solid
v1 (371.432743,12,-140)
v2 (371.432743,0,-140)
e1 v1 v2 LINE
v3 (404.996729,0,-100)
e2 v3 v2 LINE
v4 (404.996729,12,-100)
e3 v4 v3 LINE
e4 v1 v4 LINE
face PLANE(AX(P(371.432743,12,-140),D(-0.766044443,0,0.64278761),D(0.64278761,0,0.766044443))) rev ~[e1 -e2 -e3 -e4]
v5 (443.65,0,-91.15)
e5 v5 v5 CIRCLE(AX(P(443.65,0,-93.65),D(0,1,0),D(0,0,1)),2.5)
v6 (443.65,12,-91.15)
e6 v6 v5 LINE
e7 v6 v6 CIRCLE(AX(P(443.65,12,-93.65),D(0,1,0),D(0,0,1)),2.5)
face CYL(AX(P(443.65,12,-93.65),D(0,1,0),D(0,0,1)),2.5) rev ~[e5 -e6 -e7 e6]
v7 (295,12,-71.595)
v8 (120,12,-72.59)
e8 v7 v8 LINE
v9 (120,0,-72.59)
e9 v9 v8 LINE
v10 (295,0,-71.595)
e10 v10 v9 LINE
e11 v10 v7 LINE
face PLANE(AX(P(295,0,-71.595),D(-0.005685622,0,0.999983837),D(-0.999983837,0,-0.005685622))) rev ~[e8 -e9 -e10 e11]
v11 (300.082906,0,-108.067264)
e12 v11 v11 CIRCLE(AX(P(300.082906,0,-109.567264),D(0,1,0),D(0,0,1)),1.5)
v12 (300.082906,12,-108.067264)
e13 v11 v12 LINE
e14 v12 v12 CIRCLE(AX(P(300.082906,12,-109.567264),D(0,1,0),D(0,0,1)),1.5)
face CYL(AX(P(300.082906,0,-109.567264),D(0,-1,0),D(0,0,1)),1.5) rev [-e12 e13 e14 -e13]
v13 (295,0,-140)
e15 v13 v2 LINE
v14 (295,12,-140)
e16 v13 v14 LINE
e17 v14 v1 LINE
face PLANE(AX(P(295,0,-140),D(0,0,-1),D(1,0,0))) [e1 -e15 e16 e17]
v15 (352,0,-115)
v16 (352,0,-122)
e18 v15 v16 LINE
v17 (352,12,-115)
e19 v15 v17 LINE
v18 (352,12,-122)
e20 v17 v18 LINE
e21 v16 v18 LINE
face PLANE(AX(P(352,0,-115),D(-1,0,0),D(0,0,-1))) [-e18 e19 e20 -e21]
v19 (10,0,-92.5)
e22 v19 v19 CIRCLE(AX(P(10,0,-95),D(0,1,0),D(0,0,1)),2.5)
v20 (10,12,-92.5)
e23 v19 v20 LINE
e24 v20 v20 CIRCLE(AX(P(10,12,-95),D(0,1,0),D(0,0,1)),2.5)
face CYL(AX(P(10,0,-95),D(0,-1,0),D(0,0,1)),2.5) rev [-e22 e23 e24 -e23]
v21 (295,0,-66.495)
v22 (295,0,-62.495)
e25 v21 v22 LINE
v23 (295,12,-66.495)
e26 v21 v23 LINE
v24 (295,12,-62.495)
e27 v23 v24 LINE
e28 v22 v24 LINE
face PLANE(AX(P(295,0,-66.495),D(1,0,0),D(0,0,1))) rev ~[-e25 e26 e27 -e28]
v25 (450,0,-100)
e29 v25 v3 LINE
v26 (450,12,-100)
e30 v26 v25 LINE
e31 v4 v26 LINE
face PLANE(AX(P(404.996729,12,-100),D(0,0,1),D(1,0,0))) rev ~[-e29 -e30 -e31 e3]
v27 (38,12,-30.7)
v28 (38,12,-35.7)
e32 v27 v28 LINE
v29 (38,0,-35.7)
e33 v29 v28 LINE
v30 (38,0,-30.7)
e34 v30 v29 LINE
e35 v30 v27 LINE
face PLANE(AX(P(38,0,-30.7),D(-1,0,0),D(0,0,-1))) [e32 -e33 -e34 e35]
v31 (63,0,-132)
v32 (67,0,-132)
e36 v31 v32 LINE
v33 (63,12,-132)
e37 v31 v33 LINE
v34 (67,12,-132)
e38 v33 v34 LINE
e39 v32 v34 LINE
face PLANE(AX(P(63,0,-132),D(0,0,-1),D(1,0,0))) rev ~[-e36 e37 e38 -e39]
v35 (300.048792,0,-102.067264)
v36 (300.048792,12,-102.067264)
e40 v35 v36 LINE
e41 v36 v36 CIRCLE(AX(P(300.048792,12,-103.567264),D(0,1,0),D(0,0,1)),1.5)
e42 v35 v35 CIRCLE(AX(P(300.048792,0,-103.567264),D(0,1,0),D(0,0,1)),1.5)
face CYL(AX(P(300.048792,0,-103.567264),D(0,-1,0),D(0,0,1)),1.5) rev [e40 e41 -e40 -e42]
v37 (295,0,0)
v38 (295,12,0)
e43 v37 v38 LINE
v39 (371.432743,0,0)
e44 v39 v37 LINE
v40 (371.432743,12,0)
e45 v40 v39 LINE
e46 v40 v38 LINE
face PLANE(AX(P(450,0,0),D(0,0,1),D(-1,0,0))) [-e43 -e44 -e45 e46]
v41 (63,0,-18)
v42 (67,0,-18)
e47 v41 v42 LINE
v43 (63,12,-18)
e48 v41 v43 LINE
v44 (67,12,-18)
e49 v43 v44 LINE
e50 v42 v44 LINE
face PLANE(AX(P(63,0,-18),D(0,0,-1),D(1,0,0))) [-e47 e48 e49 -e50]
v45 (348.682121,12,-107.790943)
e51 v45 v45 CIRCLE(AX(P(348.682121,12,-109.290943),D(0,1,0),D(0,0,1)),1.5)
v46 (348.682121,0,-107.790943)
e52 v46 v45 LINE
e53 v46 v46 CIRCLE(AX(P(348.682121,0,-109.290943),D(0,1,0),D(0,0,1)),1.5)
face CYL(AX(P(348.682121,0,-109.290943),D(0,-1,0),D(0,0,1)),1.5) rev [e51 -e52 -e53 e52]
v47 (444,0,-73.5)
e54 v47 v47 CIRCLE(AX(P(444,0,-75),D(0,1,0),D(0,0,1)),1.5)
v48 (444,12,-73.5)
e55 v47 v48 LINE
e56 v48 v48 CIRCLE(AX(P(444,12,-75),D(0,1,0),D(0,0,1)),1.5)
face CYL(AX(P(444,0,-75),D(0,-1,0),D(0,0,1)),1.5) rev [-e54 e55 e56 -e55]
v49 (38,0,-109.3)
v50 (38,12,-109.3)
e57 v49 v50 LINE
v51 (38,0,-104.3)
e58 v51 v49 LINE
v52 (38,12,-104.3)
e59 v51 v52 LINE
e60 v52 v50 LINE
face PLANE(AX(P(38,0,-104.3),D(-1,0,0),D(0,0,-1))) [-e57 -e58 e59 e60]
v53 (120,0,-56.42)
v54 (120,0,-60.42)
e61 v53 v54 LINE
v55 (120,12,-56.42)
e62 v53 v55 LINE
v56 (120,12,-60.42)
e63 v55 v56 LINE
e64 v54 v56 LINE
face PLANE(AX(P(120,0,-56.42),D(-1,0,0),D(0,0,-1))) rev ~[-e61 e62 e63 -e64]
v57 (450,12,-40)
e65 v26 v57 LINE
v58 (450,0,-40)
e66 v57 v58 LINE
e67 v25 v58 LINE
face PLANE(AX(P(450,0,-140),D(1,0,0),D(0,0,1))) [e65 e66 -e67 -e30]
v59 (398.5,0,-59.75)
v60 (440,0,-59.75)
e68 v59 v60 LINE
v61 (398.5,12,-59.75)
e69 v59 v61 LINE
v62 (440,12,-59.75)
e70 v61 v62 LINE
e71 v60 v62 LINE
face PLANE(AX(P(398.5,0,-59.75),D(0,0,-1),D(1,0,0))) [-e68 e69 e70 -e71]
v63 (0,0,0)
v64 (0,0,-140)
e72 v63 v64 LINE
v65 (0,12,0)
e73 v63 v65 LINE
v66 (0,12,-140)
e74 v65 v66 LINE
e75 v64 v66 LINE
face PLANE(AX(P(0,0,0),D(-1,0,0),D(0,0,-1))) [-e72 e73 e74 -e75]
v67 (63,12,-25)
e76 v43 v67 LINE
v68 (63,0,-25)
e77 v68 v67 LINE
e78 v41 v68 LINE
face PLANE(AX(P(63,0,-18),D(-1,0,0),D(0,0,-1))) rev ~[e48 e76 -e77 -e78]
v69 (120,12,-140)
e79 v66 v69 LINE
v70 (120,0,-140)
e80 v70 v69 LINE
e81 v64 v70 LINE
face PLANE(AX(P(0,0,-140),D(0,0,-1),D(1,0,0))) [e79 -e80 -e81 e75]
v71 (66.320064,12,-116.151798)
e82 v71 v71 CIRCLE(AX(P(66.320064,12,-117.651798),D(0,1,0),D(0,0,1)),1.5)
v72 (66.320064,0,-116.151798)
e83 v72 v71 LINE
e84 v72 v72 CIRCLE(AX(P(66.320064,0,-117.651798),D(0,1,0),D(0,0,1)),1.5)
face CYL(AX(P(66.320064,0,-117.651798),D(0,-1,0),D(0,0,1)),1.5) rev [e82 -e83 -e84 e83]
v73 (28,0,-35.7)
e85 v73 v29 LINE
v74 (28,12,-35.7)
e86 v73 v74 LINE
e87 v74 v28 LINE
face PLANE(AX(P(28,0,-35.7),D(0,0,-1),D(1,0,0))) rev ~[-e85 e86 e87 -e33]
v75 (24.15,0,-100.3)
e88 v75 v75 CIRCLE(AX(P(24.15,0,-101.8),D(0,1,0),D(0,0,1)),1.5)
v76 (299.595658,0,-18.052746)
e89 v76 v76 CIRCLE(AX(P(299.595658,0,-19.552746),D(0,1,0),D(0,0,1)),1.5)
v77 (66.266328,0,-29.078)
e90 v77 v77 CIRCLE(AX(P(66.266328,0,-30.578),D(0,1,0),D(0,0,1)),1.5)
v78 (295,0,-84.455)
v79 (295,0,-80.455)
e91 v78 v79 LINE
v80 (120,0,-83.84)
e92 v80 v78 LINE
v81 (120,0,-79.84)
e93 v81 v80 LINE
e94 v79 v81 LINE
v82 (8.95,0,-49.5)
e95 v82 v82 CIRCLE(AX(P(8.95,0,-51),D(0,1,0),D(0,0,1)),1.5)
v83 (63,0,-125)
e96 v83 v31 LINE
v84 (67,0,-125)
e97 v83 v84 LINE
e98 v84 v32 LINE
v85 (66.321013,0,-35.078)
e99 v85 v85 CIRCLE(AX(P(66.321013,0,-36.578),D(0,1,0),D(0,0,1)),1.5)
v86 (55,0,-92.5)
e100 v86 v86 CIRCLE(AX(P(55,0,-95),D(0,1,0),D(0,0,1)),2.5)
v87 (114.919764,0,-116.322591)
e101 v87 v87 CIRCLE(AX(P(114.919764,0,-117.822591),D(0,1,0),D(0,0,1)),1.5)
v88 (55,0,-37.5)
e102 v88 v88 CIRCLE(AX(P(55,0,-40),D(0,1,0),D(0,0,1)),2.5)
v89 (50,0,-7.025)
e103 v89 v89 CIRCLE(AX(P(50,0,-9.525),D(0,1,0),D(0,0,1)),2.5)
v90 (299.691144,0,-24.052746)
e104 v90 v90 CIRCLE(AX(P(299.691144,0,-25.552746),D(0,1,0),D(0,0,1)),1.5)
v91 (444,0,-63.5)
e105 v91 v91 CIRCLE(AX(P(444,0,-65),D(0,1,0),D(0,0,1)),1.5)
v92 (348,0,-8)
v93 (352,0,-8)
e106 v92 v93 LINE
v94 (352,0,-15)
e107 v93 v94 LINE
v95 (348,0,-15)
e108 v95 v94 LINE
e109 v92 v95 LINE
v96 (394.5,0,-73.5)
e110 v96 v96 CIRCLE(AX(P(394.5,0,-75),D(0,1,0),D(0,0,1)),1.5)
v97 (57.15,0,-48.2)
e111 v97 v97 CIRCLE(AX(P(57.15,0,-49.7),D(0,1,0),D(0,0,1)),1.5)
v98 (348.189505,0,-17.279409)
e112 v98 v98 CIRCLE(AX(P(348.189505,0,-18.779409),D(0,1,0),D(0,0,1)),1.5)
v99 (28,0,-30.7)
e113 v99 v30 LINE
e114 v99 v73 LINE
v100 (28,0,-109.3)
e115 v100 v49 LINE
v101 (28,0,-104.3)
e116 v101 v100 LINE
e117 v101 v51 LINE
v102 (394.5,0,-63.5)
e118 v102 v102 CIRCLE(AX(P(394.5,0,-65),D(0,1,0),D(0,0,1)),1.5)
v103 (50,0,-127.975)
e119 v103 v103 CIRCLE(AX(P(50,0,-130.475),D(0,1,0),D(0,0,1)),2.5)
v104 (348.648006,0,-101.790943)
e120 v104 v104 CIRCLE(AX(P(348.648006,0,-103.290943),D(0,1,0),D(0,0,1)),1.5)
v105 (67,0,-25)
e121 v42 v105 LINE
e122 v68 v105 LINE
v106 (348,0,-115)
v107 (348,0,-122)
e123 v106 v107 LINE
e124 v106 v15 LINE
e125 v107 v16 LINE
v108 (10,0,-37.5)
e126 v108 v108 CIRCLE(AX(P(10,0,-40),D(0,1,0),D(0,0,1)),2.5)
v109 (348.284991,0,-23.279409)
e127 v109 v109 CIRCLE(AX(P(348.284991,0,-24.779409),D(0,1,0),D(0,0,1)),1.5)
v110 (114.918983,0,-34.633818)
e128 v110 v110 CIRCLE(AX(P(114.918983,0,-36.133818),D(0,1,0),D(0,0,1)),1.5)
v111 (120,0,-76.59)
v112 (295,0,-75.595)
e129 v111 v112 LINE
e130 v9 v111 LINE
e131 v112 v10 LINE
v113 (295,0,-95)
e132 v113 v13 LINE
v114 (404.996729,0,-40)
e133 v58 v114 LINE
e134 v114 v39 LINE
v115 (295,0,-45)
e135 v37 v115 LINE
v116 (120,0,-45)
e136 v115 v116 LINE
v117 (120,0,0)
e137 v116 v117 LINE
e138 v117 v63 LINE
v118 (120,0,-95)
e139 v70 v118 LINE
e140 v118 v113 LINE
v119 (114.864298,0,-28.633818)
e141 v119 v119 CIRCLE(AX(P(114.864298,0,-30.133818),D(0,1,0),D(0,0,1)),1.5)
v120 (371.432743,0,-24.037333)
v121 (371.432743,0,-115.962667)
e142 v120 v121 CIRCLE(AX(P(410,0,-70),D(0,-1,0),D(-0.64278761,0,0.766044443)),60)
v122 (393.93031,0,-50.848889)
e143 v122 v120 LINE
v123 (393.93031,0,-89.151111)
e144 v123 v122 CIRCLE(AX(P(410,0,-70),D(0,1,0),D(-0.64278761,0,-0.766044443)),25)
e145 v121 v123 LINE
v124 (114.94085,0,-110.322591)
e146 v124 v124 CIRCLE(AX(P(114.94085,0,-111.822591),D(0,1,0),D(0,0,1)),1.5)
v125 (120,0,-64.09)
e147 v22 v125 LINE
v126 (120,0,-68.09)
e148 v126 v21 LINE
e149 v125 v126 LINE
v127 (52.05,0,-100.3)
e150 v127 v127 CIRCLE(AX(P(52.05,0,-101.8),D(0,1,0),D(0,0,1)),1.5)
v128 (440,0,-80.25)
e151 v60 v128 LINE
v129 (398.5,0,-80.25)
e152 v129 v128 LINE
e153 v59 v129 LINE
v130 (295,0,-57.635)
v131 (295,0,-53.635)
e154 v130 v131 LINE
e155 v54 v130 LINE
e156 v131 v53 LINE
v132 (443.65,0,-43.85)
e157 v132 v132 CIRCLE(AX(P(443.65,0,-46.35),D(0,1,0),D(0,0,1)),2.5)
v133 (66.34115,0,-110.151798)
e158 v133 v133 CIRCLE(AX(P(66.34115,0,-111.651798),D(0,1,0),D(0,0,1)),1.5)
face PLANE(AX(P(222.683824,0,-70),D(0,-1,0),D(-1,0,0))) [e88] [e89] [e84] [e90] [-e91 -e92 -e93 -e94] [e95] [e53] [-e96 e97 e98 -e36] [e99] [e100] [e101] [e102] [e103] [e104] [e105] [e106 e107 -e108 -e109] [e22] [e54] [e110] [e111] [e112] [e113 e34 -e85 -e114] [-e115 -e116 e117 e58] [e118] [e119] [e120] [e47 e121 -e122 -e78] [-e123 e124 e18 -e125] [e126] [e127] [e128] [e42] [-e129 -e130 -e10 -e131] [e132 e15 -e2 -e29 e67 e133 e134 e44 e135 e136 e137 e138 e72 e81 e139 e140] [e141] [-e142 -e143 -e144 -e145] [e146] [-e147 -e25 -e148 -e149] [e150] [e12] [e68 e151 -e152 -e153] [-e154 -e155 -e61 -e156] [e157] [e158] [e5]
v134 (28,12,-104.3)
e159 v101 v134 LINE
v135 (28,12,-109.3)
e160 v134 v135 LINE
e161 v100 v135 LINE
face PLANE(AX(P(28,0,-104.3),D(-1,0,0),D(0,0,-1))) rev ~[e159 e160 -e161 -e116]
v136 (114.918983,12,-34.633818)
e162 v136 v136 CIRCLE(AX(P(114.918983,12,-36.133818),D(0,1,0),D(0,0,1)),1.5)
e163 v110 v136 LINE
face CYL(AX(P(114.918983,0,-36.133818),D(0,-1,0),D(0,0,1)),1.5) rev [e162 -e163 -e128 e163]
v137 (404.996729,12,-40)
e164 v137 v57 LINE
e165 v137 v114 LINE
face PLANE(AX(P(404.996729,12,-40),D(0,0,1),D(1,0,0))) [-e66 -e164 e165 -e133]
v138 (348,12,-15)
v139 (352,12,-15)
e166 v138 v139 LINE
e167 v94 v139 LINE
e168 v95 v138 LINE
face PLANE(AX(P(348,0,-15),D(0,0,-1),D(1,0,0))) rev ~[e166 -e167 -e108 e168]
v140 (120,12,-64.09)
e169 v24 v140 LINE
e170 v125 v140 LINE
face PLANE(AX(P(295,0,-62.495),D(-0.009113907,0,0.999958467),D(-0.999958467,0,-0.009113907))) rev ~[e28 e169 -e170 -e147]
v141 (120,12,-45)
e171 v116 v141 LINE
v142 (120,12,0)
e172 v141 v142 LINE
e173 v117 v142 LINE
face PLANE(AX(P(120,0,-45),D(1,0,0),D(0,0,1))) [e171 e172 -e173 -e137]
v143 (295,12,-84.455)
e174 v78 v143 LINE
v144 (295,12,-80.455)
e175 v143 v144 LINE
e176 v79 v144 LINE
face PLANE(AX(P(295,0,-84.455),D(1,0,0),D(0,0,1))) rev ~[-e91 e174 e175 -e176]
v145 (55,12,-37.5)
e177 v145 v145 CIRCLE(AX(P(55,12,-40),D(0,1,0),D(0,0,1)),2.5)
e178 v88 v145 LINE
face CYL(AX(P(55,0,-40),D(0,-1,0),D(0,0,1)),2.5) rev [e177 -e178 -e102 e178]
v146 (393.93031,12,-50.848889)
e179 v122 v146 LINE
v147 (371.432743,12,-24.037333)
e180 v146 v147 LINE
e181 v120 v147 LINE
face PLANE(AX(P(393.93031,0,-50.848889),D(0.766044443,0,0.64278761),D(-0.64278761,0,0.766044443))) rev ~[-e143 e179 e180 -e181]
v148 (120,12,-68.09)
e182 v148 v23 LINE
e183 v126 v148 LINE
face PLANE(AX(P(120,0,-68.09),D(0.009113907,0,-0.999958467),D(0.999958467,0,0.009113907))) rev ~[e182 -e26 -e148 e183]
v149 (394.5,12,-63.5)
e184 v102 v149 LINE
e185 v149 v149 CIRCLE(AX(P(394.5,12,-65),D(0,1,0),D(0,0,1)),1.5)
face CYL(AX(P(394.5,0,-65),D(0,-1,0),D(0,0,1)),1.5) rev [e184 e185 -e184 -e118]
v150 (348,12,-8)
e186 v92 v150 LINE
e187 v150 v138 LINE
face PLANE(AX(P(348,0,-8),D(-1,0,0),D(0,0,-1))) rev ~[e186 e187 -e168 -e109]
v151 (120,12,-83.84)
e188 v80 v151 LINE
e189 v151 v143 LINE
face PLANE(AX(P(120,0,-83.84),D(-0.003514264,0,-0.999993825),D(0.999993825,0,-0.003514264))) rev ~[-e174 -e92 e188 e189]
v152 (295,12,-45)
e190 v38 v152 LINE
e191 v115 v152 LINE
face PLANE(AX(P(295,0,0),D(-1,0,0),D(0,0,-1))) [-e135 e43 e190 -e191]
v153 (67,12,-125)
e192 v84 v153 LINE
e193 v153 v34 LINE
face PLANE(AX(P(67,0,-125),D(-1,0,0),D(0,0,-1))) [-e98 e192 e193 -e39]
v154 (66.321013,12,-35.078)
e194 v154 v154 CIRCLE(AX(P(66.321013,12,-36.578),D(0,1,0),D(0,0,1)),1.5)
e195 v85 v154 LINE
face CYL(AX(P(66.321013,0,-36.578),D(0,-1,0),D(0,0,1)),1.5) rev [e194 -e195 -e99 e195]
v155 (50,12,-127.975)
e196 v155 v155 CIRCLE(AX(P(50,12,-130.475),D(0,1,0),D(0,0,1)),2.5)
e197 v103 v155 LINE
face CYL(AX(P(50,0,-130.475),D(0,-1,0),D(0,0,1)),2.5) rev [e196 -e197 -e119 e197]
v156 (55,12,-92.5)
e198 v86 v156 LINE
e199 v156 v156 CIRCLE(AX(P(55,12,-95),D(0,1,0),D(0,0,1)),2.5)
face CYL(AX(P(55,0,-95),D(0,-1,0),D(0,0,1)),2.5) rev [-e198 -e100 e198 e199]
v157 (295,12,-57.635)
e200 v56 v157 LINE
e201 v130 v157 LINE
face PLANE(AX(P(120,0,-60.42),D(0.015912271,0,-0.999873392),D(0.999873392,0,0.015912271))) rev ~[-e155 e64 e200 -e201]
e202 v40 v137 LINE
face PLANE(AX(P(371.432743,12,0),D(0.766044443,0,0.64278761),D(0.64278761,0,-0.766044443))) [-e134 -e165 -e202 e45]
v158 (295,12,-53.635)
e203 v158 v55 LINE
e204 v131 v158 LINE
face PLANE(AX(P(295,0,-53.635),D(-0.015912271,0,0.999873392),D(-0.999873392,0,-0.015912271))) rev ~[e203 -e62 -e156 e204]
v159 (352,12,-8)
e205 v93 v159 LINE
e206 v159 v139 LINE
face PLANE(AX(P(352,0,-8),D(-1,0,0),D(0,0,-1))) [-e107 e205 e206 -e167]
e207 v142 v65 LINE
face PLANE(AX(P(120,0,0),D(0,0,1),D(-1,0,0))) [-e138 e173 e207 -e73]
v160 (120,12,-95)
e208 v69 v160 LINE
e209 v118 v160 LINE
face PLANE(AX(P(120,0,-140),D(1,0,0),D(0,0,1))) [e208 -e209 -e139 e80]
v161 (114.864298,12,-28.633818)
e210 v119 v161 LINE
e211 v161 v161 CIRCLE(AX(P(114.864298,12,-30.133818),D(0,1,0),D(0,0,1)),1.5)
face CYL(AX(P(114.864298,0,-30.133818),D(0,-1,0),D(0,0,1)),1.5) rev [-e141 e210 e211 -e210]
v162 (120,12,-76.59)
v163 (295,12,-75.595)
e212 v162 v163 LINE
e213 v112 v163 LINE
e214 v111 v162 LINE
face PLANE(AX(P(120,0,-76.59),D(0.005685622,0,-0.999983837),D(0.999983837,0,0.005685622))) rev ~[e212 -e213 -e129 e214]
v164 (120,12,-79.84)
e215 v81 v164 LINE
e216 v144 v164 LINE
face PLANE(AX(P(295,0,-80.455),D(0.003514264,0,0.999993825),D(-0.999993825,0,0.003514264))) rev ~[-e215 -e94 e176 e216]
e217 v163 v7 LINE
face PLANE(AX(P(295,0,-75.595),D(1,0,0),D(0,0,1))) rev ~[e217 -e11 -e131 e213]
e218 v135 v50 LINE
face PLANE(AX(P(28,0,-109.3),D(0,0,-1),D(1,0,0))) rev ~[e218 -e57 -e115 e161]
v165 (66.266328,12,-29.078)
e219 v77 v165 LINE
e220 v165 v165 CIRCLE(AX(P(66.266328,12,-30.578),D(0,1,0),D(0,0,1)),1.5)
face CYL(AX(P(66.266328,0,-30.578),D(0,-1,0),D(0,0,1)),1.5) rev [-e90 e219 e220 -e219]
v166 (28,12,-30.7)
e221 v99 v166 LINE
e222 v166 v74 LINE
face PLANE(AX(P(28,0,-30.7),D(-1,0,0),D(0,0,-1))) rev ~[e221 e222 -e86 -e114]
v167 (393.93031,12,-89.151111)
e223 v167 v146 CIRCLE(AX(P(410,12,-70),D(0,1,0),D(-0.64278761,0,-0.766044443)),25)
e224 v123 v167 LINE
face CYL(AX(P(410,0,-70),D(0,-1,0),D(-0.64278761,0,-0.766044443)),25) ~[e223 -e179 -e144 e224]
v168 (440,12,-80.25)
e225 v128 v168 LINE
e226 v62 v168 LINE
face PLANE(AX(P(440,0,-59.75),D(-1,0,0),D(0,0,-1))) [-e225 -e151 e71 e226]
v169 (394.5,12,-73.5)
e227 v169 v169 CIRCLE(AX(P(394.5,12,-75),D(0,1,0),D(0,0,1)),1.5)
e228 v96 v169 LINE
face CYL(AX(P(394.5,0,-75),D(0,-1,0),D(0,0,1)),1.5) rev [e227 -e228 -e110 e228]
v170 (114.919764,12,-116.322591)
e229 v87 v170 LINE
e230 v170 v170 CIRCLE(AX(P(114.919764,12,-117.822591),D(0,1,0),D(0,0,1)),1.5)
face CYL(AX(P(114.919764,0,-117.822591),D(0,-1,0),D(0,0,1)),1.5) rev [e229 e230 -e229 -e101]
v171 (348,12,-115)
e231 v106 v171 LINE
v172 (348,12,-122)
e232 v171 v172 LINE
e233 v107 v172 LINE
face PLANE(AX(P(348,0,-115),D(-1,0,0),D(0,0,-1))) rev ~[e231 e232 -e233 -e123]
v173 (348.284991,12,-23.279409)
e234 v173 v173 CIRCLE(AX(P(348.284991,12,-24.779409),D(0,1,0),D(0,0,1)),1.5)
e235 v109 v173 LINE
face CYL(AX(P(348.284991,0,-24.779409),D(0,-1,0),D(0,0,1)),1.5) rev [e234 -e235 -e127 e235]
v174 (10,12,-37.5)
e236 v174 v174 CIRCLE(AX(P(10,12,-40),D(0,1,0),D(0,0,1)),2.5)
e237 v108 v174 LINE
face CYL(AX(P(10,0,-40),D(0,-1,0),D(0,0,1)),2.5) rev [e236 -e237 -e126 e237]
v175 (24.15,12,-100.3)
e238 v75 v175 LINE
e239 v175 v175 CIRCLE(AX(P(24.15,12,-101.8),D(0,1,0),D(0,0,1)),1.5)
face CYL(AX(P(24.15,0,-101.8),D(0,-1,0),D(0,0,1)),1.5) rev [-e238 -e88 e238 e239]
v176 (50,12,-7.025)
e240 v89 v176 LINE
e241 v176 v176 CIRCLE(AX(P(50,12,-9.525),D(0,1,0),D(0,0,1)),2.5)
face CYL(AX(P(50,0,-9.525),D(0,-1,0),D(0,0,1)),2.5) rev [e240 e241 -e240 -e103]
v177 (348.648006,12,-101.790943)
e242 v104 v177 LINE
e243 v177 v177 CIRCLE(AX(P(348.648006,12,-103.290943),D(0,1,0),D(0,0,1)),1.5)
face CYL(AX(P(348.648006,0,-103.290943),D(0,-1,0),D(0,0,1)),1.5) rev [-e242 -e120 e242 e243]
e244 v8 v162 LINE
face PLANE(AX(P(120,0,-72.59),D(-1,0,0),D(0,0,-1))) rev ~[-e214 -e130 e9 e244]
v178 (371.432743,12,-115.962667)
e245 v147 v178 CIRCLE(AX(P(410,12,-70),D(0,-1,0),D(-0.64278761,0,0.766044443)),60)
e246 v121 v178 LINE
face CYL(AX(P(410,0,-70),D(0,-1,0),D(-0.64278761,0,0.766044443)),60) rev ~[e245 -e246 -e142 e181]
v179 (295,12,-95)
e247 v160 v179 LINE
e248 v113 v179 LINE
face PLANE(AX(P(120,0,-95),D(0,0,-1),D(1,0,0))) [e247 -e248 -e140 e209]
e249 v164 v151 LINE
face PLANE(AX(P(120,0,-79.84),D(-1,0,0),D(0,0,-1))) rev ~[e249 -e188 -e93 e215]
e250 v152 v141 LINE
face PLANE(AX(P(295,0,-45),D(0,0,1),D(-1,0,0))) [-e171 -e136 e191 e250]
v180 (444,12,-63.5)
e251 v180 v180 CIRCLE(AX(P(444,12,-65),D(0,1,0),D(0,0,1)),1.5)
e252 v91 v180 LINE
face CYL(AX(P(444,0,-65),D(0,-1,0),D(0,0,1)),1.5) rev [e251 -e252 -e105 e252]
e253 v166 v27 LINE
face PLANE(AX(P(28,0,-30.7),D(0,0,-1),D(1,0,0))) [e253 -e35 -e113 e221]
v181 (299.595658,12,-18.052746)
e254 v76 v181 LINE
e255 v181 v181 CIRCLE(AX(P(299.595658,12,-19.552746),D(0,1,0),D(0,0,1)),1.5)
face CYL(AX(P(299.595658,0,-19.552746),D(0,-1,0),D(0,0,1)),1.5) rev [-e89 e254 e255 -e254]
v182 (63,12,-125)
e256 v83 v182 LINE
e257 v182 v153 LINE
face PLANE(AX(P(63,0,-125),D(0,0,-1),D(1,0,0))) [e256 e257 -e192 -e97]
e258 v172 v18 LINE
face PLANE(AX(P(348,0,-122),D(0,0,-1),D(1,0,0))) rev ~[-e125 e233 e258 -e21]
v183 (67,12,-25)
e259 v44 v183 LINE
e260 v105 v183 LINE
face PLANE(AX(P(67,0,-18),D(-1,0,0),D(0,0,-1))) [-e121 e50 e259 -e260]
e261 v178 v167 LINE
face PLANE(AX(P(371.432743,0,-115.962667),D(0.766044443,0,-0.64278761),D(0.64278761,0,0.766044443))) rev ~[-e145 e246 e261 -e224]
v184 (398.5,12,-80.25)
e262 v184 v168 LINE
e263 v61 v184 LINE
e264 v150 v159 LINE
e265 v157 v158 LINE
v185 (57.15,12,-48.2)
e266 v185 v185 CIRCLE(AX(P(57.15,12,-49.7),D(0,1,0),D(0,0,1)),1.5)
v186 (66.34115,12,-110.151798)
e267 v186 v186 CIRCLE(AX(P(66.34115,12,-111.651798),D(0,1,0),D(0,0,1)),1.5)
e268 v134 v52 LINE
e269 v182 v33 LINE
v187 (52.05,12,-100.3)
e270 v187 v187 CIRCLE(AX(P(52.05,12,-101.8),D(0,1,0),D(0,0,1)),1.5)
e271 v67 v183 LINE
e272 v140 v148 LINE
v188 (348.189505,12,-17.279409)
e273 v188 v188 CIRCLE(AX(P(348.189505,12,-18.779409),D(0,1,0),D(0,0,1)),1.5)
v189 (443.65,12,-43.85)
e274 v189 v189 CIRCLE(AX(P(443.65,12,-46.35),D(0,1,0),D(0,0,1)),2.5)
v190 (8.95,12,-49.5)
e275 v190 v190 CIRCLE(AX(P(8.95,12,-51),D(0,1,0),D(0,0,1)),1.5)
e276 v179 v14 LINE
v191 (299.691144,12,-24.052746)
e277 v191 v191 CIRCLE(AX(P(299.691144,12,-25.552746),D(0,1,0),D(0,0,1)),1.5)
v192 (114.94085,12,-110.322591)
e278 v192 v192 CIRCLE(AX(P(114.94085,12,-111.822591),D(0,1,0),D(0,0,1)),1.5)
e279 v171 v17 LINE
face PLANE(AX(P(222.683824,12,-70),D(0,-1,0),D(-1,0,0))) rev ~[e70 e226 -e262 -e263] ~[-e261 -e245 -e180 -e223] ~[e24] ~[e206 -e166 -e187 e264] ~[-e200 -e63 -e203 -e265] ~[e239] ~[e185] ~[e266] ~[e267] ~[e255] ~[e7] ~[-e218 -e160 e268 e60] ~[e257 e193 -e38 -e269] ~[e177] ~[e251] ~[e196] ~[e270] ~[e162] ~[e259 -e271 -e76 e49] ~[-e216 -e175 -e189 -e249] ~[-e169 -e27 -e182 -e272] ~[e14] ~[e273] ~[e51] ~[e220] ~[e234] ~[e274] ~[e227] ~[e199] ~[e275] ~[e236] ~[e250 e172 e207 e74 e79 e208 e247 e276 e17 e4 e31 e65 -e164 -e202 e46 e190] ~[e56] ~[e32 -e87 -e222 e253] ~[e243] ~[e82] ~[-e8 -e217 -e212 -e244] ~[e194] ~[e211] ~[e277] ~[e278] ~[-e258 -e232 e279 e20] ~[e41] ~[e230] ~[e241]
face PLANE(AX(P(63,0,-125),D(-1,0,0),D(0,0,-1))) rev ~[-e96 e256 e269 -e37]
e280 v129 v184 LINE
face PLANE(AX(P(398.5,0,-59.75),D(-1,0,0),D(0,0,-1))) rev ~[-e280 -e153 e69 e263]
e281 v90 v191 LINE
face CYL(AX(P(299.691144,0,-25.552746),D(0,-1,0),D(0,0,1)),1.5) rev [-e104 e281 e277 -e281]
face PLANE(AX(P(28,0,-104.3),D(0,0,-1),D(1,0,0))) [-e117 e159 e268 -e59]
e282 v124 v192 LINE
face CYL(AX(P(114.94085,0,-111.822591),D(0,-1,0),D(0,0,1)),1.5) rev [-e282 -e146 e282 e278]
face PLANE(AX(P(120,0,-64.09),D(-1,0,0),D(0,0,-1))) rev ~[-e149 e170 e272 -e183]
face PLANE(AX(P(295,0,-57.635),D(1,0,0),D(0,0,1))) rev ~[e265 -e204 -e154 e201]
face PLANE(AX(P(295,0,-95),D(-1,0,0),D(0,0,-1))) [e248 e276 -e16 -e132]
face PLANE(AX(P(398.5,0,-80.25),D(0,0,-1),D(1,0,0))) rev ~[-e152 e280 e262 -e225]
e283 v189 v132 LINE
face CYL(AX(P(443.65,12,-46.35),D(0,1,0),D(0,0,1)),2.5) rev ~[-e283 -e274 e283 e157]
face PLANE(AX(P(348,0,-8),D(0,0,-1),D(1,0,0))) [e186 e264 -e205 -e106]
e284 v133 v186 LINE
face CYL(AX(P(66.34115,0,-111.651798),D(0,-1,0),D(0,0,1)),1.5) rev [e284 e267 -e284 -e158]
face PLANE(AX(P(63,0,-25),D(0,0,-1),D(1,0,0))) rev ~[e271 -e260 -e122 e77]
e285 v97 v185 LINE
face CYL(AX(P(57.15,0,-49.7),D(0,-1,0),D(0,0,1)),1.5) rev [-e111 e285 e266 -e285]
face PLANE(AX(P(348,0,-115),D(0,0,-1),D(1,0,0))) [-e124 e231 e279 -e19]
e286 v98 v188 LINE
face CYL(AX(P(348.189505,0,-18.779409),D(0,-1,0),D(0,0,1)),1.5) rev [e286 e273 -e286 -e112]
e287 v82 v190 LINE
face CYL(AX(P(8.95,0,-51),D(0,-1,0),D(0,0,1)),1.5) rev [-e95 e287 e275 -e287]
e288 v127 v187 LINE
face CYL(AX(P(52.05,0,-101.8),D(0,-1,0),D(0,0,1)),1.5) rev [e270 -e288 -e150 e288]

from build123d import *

# Parameters (mm, degrees)
SKETCH1_R           = 1.5
SKETCH1_R_2         = 2.5
SKETCH1_W           = 10
SKETCH1_H           = 5
SKETCH1_W_2         = 4
SKETCH1_H_2         = 7
SKETCH1_W_3         = 41.5
SKETCH1_H_3         = 20.5
BOSS_EXTRUDE1_DEPTH = 12
SKETCH2_R           = 2.5
CUT_EXTRUDE1_DEPTH  = 13


with BuildPart() as part:
    # Sketch1 → Boss-Extrude1 (new body)
    with BuildSketch(Plane(origin=(0, 0, 0), x_dir=(1, 0, 0), z_dir=(0, 1, 0))):
        Polygon((295, 140), (450, 140), (450, 0), (295, 0), (295, 45), (120, 45), (120, 0), (0, 0), (0, 140), (120, 140), (120, 95), (295, 95), align=None)
        with Locations(Location((8.95, 51, 0), (0, 0, 270))):  # turned: the seam where the file's is
            Circle(SKETCH1_R, mode=Mode.SUBTRACT)
        with Locations(Location((57.15, 49.7, 0), (0, 0, 270))):  # turned: the seam where the file's is
            Circle(SKETCH1_R, mode=Mode.SUBTRACT)
        with Locations(Location((24.15, 101.8, 0), (0, 0, 270))):  # turned: the seam where the file's is
            Circle(SKETCH1_R, mode=Mode.SUBTRACT)
        with Locations(Location((52.05, 101.8, 0), (0, 0, 270))):  # turned: the seam where the file's is
            Circle(SKETCH1_R, mode=Mode.SUBTRACT)
        with Locations(Location((50, 130.475, 0), (0, 0, 270))):  # turned: the seam where the file's is
            Circle(SKETCH1_R_2, mode=Mode.SUBTRACT)
        with Locations(Location((50, 9.525, 0), (0, 0, 270))):  # turned: the seam where the file's is
            Circle(SKETCH1_R_2, mode=Mode.SUBTRACT)
        with Locations(Location((10, 95, 0), (0, 0, 270))):  # turned: the seam where the file's is
            Circle(SKETCH1_R_2, mode=Mode.SUBTRACT)
        with Locations(Location((10, 40, 0), (0, 0, 270))):  # turned: the seam where the file's is
            Circle(SKETCH1_R_2, mode=Mode.SUBTRACT)
        with Locations(Location((55, 40, 0), (0, 0, 270))):  # turned: the seam where the file's is
            Circle(SKETCH1_R_2, mode=Mode.SUBTRACT)
        with Locations(Location((55, 95, 0), (0, 0, 270))):  # turned: the seam where the file's is
            Circle(SKETCH1_R_2, mode=Mode.SUBTRACT)
        with Locations(Location((394.5, 75, 0), (0, 0, 270))):  # turned: the seam where the file's is
            Circle(SKETCH1_R, mode=Mode.SUBTRACT)
        with Locations(Location((394.5, 65, 0), (0, 0, 270))):  # turned: the seam where the file's is
            Circle(SKETCH1_R, mode=Mode.SUBTRACT)
        with Locations(Location((444, 75, 0), (0, 0, 270))):  # turned: the seam where the file's is
            Circle(SKETCH1_R, mode=Mode.SUBTRACT)
        with Locations(Location((444, 65, 0), (0, 0, 270))):  # turned: the seam where the file's is
            Circle(SKETCH1_R, mode=Mode.SUBTRACT)
        with Locations(Location((114.940849733, 111.822591207, 0), (0, 0, 270))):  # turned: the seam where the file's is
            Circle(SKETCH1_R, mode=Mode.SUBTRACT)
        with Locations(Location((114.919764018, 117.822591207, 0), (0, 0, 270))):  # turned: the seam where the file's is
            Circle(SKETCH1_R, mode=Mode.SUBTRACT)
        with Locations(Location((66.34114984, 111.651797976, 0), (0, 0, 270))):  # turned: the seam where the file's is
            Circle(SKETCH1_R, mode=Mode.SUBTRACT)
        with Locations(Location((66.320064126, 117.651797976, 0), (0, 0, 270))):  # turned: the seam where the file's is
            Circle(SKETCH1_R, mode=Mode.SUBTRACT)
        with Locations(Location((114.91898341, 36.133817731, 0), (0, 0, 270))):  # turned: the seam where the file's is
            Circle(SKETCH1_R, mode=Mode.SUBTRACT)
        with Locations(Location((114.864297696, 30.133817731, 0), (0, 0, 270))):  # turned: the seam where the file's is
            Circle(SKETCH1_R, mode=Mode.SUBTRACT)
        with Locations(Location((66.266327532, 30.577999595, 0), (0, 0, 270))):  # turned: the seam where the file's is
            Circle(SKETCH1_R, mode=Mode.SUBTRACT)
        with Locations(Location((66.321013247, 36.577999595, 0), (0, 0, 270))):  # turned: the seam where the file's is
            Circle(SKETCH1_R, mode=Mode.SUBTRACT)
        with Locations(Location((300.048791832, 103.567263833, 0), (0, 0, 270))):  # turned: the seam where the file's is
            Circle(SKETCH1_R, mode=Mode.SUBTRACT)
        with Locations(Location((300.082906118, 109.567263833, 0), (0, 0, 270))):  # turned: the seam where the file's is
            Circle(SKETCH1_R, mode=Mode.SUBTRACT)
        with Locations(Location((348.682120582, 109.290942585, 0), (0, 0, 270))):  # turned: the seam where the file's is
            Circle(SKETCH1_R, mode=Mode.SUBTRACT)
        with Locations(Location((348.648006297, 103.290942585, 0), (0, 0, 270))):  # turned: the seam where the file's is
            Circle(SKETCH1_R, mode=Mode.SUBTRACT)
        with Locations(Location((299.691143962, 25.55274586, 0), (0, 0, 270))):  # turned: the seam where the file's is
            Circle(SKETCH1_R, mode=Mode.SUBTRACT)
        with Locations(Location((299.595658248, 19.55274586, 0), (0, 0, 270))):  # turned: the seam where the file's is
            Circle(SKETCH1_R, mode=Mode.SUBTRACT)
        with Locations(Location((348.284990804, 24.779409497, 0), (0, 0, 270))):  # turned: the seam where the file's is
            Circle(SKETCH1_R, mode=Mode.SUBTRACT)
        with Locations(Location((348.18950509, 18.779409497, 0), (0, 0, 270))):  # turned: the seam where the file's is
            Circle(SKETCH1_R, mode=Mode.SUBTRACT)
        Polygon((120, 83.84), (295, 84.455), (295, 80.455), (120, 79.84), align=None, mode=Mode.SUBTRACT)
        Polygon((120, 76.59), (295, 75.595), (295, 71.595), (120, 72.59), align=None, mode=Mode.SUBTRACT)
        Polygon((120, 68.09), (295, 66.495), (295, 62.495), (120, 64.09), align=None, mode=Mode.SUBTRACT)
        Polygon((120, 60.42), (295, 57.635), (295, 53.635), (120, 56.42), align=None, mode=Mode.SUBTRACT)
        with Locations((33, 106.8)):
            Rectangle(SKETCH1_W, SKETCH1_H, mode=Mode.SUBTRACT)
        with Locations((33, 33.2)):
            Rectangle(SKETCH1_W, SKETCH1_H, mode=Mode.SUBTRACT)
        with Locations((65, 128.5)):
            Rectangle(SKETCH1_W_2, SKETCH1_H_2, mode=Mode.SUBTRACT)
        with Locations((65, 21.5)):
            Rectangle(SKETCH1_W_2, SKETCH1_H_2, mode=Mode.SUBTRACT)
        with Locations((419.25, 70)):
            Rectangle(SKETCH1_W_3, SKETCH1_H_3, mode=Mode.SUBTRACT)
        with BuildLine():
            Line((393.930309758, 50.848888922), (371.432743419, 24.037333413))
            ThreePointArc((371.432743419, 24.037333413), (350, 70), (371.432743419, 115.962666587))
            Line((371.432743419, 115.962666587), (393.930309758, 89.151111078))
            ThreePointArc((393.930309758, 89.151111078), (385, 70), (393.930309758, 50.848888922))
        make_face(mode=Mode.SUBTRACT)
        with Locations((350, 118.5)):
            Rectangle(SKETCH1_W_2, SKETCH1_H_2, mode=Mode.SUBTRACT)
        with Locations((350, 11.5)):
            Rectangle(SKETCH1_W_2, SKETCH1_H_2, mode=Mode.SUBTRACT)
    extrude(amount=BOSS_EXTRUDE1_DEPTH)

    # Sketch2 → Cut-Extrude1 (cut, through all)
    with BuildSketch(Plane(origin=(0, 12, 0), x_dir=(1, 0, 0), z_dir=(0, 1, 0))):
        with Locations(Location((443.65, 93.65, 0), (0, 0, 270))):  # turned: the seam where the file's is
            Circle(SKETCH2_R)
        with Locations(Location((443.65, 46.35, 0), (0, 0, 270))):  # turned: the seam where the file's is
            Circle(SKETCH2_R)
        Polygon((371.432743419, 140), (404.996728666, 100), (450, 100), (450, 140), align=None)
        Polygon((371.432743419, 0), (404.996728666, 40), (450, 40), (450, 0), align=None)
    extrude(amount=-CUT_EXTRUDE1_DEPTH, mode=Mode.SUBTRACT)


solid = part.part
